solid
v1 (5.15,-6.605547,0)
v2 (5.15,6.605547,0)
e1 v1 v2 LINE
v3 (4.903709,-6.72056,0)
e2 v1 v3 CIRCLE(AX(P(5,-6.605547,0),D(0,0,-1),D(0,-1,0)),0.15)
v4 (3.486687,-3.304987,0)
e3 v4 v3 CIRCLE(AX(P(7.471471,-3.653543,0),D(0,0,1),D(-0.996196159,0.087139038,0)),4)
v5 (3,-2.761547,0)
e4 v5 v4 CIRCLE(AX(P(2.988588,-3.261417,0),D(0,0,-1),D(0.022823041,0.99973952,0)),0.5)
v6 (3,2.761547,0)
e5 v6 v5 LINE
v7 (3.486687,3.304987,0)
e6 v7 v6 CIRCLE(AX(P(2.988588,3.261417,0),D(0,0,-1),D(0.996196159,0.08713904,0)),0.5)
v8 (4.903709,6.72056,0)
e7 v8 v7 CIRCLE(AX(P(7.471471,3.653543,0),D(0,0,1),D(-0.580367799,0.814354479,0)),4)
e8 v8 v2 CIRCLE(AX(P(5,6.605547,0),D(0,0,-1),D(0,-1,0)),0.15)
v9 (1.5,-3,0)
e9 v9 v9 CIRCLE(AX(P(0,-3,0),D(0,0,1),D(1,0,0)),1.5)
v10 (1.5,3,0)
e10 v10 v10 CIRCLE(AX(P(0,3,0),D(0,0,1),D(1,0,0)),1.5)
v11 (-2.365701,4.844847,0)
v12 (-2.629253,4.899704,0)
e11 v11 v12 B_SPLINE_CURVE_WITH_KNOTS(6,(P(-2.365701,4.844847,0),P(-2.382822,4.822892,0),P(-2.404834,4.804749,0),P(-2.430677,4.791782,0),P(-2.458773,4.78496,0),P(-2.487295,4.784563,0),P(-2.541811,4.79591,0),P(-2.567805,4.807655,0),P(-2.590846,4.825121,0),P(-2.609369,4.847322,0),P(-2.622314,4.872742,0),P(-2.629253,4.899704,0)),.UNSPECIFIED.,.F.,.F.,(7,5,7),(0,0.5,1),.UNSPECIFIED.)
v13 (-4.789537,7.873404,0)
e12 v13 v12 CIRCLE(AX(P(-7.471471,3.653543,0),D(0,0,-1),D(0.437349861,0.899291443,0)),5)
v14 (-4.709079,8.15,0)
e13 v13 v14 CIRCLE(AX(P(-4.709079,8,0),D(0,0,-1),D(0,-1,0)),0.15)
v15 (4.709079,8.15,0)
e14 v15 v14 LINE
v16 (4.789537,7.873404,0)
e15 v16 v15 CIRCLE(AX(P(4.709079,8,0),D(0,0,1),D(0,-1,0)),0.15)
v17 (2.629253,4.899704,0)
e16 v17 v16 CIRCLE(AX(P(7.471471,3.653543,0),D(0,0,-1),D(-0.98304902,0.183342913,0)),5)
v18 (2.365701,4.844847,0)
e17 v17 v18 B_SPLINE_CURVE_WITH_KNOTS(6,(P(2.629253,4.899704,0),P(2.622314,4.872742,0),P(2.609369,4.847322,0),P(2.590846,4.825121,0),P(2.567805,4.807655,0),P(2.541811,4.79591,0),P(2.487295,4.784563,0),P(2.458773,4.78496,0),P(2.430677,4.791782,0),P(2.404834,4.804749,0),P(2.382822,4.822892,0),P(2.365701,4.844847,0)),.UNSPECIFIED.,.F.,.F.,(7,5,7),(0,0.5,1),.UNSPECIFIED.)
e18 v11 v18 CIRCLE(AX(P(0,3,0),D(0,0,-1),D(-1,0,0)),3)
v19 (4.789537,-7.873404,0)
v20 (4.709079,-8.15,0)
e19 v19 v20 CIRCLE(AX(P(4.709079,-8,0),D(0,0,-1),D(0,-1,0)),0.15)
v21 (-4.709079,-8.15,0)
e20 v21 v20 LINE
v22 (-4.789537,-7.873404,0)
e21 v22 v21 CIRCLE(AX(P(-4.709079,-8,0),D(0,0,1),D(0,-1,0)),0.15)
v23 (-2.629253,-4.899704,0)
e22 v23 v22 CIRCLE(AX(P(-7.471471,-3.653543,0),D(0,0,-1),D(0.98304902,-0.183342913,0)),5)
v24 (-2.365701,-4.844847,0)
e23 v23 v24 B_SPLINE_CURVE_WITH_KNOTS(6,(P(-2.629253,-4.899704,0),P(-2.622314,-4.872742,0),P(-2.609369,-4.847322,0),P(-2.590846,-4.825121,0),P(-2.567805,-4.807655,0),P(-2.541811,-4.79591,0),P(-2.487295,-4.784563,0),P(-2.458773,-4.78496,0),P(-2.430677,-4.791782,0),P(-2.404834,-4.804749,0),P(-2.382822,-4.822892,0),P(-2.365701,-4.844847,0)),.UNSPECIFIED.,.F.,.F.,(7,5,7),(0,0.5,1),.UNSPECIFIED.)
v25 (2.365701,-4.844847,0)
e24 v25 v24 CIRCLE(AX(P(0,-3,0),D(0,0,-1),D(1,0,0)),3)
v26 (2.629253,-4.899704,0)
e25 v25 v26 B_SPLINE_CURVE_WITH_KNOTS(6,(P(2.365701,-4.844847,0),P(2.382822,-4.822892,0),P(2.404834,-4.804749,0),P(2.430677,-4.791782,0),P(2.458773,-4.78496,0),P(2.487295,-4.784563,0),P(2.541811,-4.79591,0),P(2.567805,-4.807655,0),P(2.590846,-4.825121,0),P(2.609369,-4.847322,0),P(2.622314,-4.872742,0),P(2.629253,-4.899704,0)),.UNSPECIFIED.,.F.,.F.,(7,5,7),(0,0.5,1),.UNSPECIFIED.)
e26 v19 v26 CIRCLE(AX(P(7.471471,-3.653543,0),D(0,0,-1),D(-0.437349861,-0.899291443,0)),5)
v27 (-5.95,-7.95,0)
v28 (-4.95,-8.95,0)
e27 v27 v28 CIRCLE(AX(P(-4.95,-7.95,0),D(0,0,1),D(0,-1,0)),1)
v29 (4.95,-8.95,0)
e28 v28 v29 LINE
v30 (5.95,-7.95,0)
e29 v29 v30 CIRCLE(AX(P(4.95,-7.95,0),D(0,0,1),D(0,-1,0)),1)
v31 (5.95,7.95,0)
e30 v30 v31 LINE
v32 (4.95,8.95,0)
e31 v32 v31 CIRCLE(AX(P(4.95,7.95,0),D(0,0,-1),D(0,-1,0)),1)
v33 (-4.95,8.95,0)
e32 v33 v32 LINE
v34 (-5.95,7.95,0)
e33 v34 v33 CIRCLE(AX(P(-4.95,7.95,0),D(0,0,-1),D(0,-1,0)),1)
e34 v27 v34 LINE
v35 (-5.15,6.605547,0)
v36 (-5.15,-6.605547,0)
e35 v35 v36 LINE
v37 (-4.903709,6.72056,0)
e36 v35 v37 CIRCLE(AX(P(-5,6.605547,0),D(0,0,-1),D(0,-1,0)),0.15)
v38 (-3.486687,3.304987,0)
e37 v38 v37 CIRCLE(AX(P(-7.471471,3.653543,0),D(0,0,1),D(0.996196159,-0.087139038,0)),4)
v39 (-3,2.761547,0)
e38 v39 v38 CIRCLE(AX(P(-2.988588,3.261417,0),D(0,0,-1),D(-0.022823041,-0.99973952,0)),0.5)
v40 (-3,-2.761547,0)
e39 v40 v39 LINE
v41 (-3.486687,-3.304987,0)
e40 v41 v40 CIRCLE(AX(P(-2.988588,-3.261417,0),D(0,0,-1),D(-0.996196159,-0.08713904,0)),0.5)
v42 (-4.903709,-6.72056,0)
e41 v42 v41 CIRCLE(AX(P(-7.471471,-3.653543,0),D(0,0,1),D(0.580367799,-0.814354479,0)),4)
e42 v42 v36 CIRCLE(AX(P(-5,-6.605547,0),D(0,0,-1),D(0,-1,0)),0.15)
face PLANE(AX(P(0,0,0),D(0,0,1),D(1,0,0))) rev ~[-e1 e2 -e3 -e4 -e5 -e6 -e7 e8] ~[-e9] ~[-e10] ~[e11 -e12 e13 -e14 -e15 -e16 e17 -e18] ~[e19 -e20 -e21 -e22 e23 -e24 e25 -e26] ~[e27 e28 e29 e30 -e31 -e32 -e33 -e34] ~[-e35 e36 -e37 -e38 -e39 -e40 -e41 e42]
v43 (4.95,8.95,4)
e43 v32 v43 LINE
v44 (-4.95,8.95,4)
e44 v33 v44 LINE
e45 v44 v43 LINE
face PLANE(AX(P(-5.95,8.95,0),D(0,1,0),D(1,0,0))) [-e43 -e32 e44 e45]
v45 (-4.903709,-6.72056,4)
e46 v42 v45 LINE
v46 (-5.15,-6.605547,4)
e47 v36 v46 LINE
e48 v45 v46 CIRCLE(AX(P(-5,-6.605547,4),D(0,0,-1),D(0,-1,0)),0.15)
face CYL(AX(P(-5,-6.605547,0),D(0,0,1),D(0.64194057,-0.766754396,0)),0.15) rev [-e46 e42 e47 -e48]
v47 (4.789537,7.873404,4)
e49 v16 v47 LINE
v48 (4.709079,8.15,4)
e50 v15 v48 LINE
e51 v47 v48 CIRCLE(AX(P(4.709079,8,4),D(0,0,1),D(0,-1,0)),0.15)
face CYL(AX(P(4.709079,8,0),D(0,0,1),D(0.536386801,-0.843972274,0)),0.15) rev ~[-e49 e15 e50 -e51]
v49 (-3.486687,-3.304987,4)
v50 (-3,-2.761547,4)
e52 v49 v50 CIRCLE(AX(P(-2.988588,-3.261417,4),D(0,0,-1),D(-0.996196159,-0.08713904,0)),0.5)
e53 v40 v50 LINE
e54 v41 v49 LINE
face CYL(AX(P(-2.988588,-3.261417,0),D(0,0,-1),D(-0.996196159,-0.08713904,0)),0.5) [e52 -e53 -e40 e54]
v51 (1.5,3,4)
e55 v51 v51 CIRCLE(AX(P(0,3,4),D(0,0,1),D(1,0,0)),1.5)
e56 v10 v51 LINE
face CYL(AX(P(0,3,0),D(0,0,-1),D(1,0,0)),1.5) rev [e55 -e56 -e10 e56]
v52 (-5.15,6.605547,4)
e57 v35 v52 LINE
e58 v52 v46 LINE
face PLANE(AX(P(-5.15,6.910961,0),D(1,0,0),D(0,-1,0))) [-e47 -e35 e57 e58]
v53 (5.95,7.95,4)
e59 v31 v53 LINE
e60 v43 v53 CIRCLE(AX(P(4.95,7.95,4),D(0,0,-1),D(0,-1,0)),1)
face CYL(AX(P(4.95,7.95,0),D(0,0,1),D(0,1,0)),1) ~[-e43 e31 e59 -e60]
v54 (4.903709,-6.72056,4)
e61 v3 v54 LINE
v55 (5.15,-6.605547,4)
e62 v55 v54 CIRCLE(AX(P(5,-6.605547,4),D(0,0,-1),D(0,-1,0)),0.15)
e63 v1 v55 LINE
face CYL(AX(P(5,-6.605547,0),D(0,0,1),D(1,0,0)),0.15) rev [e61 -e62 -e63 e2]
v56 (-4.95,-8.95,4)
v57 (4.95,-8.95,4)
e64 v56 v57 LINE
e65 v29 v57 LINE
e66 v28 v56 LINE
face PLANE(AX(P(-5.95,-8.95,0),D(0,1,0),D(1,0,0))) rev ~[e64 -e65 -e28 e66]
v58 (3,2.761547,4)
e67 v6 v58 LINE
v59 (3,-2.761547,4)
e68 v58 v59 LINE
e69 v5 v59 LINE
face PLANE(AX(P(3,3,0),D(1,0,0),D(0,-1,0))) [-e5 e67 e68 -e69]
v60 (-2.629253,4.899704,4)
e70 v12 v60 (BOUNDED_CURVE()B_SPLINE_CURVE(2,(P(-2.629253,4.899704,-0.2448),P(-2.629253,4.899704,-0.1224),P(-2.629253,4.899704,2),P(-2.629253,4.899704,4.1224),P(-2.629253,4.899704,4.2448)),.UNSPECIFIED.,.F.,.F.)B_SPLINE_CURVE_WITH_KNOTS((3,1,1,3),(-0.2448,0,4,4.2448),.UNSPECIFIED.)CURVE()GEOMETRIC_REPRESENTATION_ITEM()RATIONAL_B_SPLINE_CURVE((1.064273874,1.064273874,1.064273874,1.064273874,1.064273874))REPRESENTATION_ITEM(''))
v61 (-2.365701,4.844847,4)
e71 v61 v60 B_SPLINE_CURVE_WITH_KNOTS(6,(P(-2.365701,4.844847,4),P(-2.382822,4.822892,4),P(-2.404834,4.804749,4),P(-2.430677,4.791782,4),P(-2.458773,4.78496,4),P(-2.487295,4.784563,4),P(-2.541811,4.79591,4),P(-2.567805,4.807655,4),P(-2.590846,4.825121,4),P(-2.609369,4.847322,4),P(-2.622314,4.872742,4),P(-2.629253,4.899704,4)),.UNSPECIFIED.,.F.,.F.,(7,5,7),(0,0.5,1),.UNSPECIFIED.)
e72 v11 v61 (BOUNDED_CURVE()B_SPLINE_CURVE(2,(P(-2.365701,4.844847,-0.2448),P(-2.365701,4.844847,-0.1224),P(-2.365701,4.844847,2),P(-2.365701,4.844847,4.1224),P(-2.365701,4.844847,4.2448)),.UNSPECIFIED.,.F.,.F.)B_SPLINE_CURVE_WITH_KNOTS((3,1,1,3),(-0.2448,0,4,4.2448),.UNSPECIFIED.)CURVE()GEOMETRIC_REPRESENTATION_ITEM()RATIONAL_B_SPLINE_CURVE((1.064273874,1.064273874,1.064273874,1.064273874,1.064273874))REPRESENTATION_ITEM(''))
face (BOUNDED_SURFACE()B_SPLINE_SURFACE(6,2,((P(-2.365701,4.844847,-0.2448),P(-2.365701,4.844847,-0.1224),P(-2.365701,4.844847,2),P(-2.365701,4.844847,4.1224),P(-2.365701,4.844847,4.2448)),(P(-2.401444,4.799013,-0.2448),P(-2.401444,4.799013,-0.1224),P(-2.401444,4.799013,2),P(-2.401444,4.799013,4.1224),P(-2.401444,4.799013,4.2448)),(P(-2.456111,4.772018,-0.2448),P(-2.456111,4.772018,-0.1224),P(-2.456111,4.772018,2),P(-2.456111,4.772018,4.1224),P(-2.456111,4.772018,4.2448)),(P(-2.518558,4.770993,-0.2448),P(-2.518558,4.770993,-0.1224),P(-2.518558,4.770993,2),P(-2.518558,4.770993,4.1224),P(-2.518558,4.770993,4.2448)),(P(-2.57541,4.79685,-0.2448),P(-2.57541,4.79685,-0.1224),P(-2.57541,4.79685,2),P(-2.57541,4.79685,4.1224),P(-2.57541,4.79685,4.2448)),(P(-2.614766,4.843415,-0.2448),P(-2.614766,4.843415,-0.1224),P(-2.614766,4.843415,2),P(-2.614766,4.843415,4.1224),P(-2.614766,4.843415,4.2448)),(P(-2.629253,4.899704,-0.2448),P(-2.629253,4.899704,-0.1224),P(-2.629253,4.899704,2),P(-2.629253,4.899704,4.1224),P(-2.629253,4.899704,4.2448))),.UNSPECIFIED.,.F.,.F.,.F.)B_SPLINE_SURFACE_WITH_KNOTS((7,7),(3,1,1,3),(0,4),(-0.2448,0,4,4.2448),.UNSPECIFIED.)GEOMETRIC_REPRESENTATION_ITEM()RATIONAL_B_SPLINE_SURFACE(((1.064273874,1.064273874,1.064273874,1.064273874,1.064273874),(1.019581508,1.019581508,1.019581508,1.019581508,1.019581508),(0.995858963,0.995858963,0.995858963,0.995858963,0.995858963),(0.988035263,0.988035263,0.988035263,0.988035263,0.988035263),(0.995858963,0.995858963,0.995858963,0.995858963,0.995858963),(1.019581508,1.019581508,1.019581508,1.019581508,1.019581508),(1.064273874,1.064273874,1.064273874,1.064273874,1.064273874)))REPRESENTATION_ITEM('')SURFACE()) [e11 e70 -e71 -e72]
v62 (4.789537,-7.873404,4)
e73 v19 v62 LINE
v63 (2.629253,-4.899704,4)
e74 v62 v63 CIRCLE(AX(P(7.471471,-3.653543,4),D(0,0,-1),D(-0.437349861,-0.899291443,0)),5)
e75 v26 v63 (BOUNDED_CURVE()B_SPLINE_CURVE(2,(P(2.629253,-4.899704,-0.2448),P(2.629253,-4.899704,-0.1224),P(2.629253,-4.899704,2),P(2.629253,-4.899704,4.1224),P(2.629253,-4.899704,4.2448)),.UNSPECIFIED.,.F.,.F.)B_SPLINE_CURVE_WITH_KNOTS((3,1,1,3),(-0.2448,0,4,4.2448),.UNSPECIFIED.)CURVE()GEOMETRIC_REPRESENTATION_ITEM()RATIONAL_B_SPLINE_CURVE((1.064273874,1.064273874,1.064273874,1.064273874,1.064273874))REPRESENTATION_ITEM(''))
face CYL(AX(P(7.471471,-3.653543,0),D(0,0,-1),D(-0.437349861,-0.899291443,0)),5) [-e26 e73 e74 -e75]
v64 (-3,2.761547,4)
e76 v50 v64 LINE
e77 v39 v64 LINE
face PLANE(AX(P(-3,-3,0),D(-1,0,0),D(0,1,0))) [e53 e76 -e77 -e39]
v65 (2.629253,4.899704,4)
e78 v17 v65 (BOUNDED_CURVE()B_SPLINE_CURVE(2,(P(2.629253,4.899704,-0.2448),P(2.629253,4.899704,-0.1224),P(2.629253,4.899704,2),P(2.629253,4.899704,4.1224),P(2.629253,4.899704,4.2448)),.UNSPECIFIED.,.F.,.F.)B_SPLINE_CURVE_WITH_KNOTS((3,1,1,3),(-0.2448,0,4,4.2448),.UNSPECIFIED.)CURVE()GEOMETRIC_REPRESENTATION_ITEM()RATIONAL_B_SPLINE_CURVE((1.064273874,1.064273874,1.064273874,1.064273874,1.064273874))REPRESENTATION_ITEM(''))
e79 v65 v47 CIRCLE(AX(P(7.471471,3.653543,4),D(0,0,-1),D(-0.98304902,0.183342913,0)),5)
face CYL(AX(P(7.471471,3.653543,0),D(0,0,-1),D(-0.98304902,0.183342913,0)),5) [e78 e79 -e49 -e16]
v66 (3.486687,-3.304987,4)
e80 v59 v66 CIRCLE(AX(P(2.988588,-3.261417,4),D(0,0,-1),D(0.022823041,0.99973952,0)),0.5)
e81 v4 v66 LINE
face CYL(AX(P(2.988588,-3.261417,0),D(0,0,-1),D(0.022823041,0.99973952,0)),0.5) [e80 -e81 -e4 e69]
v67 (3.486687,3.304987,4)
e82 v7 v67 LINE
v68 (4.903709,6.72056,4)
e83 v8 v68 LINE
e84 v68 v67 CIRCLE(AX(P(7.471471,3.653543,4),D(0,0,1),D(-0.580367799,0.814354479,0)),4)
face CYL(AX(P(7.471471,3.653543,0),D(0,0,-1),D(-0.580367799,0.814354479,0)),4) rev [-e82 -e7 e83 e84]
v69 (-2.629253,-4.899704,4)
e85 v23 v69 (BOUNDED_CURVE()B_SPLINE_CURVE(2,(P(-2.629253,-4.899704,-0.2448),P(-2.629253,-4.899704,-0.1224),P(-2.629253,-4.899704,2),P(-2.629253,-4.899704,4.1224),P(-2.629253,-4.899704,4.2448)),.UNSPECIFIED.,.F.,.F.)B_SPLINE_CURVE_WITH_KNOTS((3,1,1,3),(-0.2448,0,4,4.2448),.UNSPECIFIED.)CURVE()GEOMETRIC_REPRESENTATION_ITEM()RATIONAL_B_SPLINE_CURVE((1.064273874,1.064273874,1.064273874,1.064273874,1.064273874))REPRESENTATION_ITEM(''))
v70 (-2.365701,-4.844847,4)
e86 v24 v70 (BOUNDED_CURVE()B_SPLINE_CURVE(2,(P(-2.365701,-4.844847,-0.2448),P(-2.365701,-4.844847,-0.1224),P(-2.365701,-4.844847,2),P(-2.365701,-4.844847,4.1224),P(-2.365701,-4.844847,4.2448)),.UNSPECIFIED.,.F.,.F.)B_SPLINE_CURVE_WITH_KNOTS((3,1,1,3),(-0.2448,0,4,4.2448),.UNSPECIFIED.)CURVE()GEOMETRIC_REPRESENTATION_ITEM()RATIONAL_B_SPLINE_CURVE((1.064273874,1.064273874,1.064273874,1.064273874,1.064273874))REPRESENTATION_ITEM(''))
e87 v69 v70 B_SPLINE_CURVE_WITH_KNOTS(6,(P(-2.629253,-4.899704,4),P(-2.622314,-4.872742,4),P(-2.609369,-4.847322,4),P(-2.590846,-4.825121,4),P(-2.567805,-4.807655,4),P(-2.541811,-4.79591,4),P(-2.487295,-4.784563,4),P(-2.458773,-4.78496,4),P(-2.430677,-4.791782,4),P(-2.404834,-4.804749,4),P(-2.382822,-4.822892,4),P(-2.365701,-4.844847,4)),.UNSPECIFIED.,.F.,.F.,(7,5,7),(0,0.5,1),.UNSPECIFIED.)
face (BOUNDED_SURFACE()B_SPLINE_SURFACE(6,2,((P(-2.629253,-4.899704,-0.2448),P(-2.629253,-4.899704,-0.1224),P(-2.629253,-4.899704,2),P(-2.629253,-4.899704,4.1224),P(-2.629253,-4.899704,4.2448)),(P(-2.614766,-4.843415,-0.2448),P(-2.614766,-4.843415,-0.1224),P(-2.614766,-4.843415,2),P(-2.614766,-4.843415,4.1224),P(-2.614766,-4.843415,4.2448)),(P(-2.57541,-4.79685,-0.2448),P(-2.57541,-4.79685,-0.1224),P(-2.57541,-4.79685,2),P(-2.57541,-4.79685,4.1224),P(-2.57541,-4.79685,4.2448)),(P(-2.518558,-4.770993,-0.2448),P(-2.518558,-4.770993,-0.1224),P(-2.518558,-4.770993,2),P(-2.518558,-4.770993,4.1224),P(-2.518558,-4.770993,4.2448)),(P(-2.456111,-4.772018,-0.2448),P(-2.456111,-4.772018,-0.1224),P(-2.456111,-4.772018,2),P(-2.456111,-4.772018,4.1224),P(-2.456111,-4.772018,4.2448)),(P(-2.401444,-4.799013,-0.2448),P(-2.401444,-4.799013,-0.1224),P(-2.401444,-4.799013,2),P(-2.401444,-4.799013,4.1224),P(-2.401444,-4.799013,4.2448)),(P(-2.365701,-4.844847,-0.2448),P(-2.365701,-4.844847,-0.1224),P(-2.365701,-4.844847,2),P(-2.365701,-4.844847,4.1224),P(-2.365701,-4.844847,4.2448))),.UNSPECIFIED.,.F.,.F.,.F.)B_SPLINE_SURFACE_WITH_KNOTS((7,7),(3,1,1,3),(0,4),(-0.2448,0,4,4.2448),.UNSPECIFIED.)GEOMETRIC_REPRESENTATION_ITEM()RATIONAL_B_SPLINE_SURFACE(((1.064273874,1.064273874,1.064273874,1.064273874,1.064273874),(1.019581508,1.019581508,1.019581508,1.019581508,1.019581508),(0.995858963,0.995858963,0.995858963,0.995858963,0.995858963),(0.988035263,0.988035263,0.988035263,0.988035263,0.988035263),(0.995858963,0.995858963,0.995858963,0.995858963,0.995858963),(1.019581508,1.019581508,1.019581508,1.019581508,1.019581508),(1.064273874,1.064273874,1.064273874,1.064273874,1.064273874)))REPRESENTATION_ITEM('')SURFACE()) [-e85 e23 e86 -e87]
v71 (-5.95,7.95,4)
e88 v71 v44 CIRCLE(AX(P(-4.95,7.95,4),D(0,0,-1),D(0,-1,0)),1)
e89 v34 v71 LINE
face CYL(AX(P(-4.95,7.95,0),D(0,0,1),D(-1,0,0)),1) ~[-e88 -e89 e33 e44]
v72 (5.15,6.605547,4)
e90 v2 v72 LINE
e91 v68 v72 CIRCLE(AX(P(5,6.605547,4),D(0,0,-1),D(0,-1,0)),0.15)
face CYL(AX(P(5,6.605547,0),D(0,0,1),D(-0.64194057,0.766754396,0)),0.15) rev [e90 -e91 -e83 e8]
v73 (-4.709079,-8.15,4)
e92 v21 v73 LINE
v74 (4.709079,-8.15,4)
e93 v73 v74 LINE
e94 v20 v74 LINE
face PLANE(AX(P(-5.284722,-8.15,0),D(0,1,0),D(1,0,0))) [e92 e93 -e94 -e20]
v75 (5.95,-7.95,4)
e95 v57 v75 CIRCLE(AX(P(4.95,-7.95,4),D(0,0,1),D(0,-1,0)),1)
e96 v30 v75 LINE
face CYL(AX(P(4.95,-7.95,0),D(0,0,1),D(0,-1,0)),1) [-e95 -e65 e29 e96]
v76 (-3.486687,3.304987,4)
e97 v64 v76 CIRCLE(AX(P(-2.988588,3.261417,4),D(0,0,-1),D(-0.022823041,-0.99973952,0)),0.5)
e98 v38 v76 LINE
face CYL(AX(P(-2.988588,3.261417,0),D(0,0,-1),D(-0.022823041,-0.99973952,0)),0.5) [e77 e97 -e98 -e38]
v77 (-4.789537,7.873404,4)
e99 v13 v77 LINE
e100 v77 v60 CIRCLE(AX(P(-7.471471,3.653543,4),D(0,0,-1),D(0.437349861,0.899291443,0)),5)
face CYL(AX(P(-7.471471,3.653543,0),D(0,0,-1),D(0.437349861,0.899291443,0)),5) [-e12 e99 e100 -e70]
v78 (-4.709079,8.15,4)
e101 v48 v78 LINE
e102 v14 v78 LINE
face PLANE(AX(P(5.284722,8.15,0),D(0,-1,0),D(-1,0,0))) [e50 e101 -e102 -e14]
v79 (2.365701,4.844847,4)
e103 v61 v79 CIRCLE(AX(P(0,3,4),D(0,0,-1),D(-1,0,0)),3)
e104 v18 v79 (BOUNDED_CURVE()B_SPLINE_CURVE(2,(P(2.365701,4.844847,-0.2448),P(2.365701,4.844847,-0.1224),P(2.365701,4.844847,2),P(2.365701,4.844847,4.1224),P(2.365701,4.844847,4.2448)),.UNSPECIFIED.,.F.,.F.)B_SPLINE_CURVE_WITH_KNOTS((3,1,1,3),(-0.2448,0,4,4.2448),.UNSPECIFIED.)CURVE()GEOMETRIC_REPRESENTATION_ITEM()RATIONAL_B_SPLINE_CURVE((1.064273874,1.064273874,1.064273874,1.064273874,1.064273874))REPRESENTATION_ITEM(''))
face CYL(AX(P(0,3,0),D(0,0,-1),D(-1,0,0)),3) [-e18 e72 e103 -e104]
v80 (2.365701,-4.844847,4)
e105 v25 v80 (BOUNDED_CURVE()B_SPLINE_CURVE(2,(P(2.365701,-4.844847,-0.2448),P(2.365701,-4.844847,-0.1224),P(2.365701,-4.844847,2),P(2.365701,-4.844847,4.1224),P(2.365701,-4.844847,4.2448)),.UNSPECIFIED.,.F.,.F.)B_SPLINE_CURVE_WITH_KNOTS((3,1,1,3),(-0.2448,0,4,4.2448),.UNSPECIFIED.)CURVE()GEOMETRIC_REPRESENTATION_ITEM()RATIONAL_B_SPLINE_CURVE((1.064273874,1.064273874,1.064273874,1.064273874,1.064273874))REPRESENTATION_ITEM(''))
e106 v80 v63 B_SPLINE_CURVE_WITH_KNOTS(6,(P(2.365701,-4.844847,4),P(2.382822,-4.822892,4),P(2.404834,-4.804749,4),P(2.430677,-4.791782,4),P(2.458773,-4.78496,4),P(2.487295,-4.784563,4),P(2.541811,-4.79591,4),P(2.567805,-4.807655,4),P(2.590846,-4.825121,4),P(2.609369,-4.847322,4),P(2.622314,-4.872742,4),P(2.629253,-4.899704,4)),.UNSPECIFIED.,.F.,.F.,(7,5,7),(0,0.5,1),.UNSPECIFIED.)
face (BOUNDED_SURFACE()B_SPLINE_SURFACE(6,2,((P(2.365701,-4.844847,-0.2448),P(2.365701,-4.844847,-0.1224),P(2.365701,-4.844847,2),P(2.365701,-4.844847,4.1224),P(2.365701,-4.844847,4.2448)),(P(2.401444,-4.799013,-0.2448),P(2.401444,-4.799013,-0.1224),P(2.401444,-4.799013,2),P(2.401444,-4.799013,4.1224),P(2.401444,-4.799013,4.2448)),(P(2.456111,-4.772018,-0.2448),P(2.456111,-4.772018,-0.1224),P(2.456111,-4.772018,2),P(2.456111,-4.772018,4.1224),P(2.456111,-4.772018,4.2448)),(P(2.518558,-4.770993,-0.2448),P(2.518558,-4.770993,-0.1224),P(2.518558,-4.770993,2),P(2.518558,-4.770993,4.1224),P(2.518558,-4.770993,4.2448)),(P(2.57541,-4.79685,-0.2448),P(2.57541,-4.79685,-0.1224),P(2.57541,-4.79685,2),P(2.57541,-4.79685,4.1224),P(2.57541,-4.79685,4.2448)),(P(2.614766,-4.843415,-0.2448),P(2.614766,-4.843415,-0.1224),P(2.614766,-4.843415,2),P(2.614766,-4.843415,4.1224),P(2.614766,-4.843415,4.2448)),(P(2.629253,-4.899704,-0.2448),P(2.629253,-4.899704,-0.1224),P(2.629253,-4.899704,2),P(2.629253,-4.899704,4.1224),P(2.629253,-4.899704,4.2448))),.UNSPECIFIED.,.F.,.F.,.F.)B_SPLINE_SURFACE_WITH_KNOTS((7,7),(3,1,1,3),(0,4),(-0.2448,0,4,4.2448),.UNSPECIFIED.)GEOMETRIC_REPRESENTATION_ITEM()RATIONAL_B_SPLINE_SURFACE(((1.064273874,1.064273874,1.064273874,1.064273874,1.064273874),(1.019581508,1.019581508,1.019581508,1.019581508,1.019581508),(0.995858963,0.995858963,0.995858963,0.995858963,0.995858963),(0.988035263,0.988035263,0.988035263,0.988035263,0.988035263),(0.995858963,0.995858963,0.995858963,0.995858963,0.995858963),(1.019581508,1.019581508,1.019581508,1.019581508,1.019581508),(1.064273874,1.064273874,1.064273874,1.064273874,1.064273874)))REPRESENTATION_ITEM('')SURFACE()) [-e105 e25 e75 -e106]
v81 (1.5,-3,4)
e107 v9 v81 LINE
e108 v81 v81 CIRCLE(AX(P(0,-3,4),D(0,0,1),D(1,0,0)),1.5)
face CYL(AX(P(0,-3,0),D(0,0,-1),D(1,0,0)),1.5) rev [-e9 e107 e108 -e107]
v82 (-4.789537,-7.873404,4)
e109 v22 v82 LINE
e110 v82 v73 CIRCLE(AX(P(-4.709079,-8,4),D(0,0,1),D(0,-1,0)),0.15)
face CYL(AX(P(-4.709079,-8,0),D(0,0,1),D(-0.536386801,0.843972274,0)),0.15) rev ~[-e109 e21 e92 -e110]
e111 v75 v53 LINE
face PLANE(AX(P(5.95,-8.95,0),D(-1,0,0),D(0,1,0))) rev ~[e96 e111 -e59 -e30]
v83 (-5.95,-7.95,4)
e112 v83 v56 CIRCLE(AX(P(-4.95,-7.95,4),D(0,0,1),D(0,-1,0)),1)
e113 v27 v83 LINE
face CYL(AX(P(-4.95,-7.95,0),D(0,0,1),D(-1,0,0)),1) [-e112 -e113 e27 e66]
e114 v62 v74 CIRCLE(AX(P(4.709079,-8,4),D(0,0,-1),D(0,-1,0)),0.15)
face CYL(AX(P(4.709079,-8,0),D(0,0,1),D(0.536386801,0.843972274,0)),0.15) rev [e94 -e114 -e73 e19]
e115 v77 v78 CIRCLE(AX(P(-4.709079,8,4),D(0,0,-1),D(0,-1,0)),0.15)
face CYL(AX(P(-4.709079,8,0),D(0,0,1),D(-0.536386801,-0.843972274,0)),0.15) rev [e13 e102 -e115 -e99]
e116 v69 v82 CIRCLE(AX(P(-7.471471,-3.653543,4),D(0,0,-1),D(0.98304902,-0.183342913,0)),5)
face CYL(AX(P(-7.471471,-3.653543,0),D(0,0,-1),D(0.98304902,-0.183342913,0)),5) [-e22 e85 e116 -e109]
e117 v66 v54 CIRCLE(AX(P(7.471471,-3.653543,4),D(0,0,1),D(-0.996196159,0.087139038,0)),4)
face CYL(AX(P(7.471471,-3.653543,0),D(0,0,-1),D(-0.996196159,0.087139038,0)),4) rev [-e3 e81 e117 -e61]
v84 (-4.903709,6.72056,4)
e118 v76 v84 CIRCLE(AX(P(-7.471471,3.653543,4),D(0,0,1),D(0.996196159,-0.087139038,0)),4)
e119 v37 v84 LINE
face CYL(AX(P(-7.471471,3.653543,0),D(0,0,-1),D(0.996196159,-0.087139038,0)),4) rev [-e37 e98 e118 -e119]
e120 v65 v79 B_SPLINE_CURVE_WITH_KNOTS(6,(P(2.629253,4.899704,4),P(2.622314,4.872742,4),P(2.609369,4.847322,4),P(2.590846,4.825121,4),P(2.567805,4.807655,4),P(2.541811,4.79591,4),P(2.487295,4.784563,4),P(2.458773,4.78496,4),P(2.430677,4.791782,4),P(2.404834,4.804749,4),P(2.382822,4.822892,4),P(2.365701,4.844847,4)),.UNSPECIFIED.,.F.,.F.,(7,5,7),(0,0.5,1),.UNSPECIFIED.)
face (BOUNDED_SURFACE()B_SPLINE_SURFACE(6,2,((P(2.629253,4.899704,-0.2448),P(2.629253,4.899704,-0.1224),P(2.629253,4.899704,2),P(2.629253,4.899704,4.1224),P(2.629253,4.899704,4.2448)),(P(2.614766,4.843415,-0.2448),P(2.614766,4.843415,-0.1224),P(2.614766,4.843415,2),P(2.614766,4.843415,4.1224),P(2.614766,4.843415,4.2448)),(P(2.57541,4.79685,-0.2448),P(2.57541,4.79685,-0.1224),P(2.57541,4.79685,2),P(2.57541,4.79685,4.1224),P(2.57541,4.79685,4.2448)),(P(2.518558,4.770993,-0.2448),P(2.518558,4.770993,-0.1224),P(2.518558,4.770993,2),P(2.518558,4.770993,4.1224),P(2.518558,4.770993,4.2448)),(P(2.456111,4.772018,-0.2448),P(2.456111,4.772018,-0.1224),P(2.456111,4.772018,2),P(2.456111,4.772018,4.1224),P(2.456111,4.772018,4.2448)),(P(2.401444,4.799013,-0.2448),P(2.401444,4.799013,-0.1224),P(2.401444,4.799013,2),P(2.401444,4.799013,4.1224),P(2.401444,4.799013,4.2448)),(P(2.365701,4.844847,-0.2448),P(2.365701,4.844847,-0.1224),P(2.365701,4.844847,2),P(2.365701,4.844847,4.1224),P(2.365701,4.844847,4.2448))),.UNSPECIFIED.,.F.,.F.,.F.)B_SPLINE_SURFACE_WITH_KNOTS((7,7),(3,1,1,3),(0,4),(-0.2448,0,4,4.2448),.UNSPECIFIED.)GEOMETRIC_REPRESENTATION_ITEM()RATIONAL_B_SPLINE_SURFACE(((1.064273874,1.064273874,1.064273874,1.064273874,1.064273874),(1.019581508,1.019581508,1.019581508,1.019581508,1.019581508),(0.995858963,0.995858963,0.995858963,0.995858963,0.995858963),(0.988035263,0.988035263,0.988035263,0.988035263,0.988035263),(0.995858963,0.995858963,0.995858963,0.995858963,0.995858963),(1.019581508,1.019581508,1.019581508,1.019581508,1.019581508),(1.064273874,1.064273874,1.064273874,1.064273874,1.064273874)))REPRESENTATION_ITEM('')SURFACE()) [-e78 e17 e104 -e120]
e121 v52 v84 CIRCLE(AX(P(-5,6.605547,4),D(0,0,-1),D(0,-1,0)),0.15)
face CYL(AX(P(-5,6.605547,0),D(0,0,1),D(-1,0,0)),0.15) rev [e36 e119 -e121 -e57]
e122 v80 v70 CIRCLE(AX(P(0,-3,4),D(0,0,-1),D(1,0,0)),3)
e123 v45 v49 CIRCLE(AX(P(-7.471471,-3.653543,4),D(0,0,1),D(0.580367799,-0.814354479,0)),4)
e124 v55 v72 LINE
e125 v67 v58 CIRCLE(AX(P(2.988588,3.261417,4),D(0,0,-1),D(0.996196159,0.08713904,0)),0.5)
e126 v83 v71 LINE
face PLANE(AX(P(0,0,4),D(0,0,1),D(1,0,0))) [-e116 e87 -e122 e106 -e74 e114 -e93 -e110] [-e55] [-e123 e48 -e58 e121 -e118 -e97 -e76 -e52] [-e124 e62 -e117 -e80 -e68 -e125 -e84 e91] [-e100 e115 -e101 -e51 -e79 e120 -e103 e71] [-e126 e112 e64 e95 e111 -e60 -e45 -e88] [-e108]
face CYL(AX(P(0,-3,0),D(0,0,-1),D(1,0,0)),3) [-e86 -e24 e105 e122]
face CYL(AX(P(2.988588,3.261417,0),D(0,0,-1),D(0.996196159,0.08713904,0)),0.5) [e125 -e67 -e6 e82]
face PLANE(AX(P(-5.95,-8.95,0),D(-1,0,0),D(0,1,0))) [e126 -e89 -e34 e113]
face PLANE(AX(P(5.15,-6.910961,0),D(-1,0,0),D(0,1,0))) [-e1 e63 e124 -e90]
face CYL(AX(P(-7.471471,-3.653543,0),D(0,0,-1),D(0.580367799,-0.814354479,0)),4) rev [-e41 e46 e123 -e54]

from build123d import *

# Parameters (mm, degrees)
SKETCH1_R           = 1.5
BOSS_EXTRUDE1_DEPTH = 4
SKETCH3_W           = 11.9
SKETCH3_H           = 17.9
BOSS_EXTRUDE2_DEPTH = 4
FILLET1_R           = 1
FILLET2_R           = 0.15


with BuildPart() as part:
    # Sketch1 → Boss-Extrude1 (new body)
    with BuildSketch(Plane.XY):
        with BuildLine():
            Line((3, 3), (3, -3))
            ThreePointArc((3, -3), (0, -6), (-3, -3))
            Line((-3, -3), (-3, 3))
            ThreePointArc((-3, 3), (0, 6), (3, 3))
        make_face()
        with Locations((0, 3)):
            Circle(SKETCH1_R, mode=Mode.SUBTRACT)
        with Locations((0, -3)):
            Circle(SKETCH1_R, mode=Mode.SUBTRACT)
    extrude(amount=BOSS_EXTRUDE1_DEPTH)

    # Sketch3 → Boss-Extrude2 (add)
    with BuildSketch(Plane.XY):
        Rectangle(SKETCH3_W, SKETCH3_H)
        with BuildLine():
            Line((3, 2.761547355), (3, 3))
            ThreePointArc((3, 3), (2.886925552, 3.815880419), (2.556226094, 4.570257353))
            ThreePointArc((2.556226094, 4.570257353), (3.494887171, 6.684512846), (5.284721888, 8.15))
            Line((5.284721888, 8.15), (-5.284721888, 8.15))
            ThreePointArc((-5.284721888, 8.15), (-3.494887171, 6.684512846), (-2.556226094, 4.570257353))
            ThreePointArc((-2.556226094, 4.570257353), (-2.886925552, 3.815880419), (-3, 3))
            Line((-3, 3), (-3, 2.761547355))
            ThreePointArc((-3, 2.761547355), (-3.361055351, 2.927847888), (-3.486686558, 3.304986634))
            ThreePointArc((-3.486686558, 3.304986634), (-3.839257283, 5.328959778), (-5.15, 6.910960705))
            Line((-5.15, 6.910960705), (-5.15, -6.910960705))
            ThreePointArc((-5.15, -6.910960705), (-3.839257283, -5.328959778), (-3.486686558, -3.304986634))
            ThreePointArc((-3.486686558, -3.304986634), (-3.361055351, -2.927847888), (-3, -2.761547355))
            Line((-3, -2.761547355), (-3, -3))
            ThreePointArc((-3, -3), (-2.886925552, -3.815880419), (-2.556226094, -4.570257353))
            ThreePointArc((-2.556226094, -4.570257353), (-3.494887171, -6.684512846), (-5.284721888, -8.15))
            Line((-5.284721888, -8.15), (5.284721888, -8.15))
            ThreePointArc((5.284721888, -8.15), (3.494887171, -6.684512846), (2.556226094, -4.570257353))
            ThreePointArc((2.556226094, -4.570257353), (2.886925552, -3.815880419), (3, -3))
            Line((3, -3), (3, -2.761547355))
            ThreePointArc((3, -2.761547355), (3.361055351, -2.927847888), (3.486686558, -3.304986634))
            ThreePointArc((3.486686558, -3.304986634), (3.839257283, -5.328959778), (5.15, -6.910960705))
            Line((5.15, -6.910960705), (5.15, 6.910960705))
            ThreePointArc((5.15, 6.910960705), (3.839257283, 5.328959778), (3.486686558, 3.304986634))
            ThreePointArc((3.486686558, 3.304986634), (3.361055351, 2.927847888), (3, 2.761547355))
        make_face(mode=Mode.SUBTRACT)
    extrude(amount=BOSS_EXTRUDE2_DEPTH)

    # Fillet1
    fillet1_edges = [part.edges().sort_by_distance(p)[0] for p in [
        (5.95, 8.95, 2),
        (-5.95, 8.95, 2),
        (-5.95, -8.95, 2),
        (5.95, -8.95, 2),
    ]]
    fillet(fillet1_edges, radius=FILLET1_R)

    # Fillet2
    fillet2_edges = [part.edges().sort_by_distance(p)[0] for p in [
        (-5.15, 6.910960705, 2),
        (-5.15, -6.910960705, 2),
        (-2.556226094, -4.570257353, 2),
        (-5.284721888, -8.15, 2),
        (5.284721888, -8.15, 2),
        (2.556226094, -4.570257353, 2),
        (5.15, -6.910960705, 2),
        (5.15, 6.910960705, 2),
        (2.556226094, 4.570257353, 2),
        (5.284721888, 8.15, 2),
        (-5.284721888, 8.15, 2),
        (-2.556226094, 4.570257353, 2),
    ]]
    fillet(fillet2_edges, radius=FILLET2_R)


solid = part.part
